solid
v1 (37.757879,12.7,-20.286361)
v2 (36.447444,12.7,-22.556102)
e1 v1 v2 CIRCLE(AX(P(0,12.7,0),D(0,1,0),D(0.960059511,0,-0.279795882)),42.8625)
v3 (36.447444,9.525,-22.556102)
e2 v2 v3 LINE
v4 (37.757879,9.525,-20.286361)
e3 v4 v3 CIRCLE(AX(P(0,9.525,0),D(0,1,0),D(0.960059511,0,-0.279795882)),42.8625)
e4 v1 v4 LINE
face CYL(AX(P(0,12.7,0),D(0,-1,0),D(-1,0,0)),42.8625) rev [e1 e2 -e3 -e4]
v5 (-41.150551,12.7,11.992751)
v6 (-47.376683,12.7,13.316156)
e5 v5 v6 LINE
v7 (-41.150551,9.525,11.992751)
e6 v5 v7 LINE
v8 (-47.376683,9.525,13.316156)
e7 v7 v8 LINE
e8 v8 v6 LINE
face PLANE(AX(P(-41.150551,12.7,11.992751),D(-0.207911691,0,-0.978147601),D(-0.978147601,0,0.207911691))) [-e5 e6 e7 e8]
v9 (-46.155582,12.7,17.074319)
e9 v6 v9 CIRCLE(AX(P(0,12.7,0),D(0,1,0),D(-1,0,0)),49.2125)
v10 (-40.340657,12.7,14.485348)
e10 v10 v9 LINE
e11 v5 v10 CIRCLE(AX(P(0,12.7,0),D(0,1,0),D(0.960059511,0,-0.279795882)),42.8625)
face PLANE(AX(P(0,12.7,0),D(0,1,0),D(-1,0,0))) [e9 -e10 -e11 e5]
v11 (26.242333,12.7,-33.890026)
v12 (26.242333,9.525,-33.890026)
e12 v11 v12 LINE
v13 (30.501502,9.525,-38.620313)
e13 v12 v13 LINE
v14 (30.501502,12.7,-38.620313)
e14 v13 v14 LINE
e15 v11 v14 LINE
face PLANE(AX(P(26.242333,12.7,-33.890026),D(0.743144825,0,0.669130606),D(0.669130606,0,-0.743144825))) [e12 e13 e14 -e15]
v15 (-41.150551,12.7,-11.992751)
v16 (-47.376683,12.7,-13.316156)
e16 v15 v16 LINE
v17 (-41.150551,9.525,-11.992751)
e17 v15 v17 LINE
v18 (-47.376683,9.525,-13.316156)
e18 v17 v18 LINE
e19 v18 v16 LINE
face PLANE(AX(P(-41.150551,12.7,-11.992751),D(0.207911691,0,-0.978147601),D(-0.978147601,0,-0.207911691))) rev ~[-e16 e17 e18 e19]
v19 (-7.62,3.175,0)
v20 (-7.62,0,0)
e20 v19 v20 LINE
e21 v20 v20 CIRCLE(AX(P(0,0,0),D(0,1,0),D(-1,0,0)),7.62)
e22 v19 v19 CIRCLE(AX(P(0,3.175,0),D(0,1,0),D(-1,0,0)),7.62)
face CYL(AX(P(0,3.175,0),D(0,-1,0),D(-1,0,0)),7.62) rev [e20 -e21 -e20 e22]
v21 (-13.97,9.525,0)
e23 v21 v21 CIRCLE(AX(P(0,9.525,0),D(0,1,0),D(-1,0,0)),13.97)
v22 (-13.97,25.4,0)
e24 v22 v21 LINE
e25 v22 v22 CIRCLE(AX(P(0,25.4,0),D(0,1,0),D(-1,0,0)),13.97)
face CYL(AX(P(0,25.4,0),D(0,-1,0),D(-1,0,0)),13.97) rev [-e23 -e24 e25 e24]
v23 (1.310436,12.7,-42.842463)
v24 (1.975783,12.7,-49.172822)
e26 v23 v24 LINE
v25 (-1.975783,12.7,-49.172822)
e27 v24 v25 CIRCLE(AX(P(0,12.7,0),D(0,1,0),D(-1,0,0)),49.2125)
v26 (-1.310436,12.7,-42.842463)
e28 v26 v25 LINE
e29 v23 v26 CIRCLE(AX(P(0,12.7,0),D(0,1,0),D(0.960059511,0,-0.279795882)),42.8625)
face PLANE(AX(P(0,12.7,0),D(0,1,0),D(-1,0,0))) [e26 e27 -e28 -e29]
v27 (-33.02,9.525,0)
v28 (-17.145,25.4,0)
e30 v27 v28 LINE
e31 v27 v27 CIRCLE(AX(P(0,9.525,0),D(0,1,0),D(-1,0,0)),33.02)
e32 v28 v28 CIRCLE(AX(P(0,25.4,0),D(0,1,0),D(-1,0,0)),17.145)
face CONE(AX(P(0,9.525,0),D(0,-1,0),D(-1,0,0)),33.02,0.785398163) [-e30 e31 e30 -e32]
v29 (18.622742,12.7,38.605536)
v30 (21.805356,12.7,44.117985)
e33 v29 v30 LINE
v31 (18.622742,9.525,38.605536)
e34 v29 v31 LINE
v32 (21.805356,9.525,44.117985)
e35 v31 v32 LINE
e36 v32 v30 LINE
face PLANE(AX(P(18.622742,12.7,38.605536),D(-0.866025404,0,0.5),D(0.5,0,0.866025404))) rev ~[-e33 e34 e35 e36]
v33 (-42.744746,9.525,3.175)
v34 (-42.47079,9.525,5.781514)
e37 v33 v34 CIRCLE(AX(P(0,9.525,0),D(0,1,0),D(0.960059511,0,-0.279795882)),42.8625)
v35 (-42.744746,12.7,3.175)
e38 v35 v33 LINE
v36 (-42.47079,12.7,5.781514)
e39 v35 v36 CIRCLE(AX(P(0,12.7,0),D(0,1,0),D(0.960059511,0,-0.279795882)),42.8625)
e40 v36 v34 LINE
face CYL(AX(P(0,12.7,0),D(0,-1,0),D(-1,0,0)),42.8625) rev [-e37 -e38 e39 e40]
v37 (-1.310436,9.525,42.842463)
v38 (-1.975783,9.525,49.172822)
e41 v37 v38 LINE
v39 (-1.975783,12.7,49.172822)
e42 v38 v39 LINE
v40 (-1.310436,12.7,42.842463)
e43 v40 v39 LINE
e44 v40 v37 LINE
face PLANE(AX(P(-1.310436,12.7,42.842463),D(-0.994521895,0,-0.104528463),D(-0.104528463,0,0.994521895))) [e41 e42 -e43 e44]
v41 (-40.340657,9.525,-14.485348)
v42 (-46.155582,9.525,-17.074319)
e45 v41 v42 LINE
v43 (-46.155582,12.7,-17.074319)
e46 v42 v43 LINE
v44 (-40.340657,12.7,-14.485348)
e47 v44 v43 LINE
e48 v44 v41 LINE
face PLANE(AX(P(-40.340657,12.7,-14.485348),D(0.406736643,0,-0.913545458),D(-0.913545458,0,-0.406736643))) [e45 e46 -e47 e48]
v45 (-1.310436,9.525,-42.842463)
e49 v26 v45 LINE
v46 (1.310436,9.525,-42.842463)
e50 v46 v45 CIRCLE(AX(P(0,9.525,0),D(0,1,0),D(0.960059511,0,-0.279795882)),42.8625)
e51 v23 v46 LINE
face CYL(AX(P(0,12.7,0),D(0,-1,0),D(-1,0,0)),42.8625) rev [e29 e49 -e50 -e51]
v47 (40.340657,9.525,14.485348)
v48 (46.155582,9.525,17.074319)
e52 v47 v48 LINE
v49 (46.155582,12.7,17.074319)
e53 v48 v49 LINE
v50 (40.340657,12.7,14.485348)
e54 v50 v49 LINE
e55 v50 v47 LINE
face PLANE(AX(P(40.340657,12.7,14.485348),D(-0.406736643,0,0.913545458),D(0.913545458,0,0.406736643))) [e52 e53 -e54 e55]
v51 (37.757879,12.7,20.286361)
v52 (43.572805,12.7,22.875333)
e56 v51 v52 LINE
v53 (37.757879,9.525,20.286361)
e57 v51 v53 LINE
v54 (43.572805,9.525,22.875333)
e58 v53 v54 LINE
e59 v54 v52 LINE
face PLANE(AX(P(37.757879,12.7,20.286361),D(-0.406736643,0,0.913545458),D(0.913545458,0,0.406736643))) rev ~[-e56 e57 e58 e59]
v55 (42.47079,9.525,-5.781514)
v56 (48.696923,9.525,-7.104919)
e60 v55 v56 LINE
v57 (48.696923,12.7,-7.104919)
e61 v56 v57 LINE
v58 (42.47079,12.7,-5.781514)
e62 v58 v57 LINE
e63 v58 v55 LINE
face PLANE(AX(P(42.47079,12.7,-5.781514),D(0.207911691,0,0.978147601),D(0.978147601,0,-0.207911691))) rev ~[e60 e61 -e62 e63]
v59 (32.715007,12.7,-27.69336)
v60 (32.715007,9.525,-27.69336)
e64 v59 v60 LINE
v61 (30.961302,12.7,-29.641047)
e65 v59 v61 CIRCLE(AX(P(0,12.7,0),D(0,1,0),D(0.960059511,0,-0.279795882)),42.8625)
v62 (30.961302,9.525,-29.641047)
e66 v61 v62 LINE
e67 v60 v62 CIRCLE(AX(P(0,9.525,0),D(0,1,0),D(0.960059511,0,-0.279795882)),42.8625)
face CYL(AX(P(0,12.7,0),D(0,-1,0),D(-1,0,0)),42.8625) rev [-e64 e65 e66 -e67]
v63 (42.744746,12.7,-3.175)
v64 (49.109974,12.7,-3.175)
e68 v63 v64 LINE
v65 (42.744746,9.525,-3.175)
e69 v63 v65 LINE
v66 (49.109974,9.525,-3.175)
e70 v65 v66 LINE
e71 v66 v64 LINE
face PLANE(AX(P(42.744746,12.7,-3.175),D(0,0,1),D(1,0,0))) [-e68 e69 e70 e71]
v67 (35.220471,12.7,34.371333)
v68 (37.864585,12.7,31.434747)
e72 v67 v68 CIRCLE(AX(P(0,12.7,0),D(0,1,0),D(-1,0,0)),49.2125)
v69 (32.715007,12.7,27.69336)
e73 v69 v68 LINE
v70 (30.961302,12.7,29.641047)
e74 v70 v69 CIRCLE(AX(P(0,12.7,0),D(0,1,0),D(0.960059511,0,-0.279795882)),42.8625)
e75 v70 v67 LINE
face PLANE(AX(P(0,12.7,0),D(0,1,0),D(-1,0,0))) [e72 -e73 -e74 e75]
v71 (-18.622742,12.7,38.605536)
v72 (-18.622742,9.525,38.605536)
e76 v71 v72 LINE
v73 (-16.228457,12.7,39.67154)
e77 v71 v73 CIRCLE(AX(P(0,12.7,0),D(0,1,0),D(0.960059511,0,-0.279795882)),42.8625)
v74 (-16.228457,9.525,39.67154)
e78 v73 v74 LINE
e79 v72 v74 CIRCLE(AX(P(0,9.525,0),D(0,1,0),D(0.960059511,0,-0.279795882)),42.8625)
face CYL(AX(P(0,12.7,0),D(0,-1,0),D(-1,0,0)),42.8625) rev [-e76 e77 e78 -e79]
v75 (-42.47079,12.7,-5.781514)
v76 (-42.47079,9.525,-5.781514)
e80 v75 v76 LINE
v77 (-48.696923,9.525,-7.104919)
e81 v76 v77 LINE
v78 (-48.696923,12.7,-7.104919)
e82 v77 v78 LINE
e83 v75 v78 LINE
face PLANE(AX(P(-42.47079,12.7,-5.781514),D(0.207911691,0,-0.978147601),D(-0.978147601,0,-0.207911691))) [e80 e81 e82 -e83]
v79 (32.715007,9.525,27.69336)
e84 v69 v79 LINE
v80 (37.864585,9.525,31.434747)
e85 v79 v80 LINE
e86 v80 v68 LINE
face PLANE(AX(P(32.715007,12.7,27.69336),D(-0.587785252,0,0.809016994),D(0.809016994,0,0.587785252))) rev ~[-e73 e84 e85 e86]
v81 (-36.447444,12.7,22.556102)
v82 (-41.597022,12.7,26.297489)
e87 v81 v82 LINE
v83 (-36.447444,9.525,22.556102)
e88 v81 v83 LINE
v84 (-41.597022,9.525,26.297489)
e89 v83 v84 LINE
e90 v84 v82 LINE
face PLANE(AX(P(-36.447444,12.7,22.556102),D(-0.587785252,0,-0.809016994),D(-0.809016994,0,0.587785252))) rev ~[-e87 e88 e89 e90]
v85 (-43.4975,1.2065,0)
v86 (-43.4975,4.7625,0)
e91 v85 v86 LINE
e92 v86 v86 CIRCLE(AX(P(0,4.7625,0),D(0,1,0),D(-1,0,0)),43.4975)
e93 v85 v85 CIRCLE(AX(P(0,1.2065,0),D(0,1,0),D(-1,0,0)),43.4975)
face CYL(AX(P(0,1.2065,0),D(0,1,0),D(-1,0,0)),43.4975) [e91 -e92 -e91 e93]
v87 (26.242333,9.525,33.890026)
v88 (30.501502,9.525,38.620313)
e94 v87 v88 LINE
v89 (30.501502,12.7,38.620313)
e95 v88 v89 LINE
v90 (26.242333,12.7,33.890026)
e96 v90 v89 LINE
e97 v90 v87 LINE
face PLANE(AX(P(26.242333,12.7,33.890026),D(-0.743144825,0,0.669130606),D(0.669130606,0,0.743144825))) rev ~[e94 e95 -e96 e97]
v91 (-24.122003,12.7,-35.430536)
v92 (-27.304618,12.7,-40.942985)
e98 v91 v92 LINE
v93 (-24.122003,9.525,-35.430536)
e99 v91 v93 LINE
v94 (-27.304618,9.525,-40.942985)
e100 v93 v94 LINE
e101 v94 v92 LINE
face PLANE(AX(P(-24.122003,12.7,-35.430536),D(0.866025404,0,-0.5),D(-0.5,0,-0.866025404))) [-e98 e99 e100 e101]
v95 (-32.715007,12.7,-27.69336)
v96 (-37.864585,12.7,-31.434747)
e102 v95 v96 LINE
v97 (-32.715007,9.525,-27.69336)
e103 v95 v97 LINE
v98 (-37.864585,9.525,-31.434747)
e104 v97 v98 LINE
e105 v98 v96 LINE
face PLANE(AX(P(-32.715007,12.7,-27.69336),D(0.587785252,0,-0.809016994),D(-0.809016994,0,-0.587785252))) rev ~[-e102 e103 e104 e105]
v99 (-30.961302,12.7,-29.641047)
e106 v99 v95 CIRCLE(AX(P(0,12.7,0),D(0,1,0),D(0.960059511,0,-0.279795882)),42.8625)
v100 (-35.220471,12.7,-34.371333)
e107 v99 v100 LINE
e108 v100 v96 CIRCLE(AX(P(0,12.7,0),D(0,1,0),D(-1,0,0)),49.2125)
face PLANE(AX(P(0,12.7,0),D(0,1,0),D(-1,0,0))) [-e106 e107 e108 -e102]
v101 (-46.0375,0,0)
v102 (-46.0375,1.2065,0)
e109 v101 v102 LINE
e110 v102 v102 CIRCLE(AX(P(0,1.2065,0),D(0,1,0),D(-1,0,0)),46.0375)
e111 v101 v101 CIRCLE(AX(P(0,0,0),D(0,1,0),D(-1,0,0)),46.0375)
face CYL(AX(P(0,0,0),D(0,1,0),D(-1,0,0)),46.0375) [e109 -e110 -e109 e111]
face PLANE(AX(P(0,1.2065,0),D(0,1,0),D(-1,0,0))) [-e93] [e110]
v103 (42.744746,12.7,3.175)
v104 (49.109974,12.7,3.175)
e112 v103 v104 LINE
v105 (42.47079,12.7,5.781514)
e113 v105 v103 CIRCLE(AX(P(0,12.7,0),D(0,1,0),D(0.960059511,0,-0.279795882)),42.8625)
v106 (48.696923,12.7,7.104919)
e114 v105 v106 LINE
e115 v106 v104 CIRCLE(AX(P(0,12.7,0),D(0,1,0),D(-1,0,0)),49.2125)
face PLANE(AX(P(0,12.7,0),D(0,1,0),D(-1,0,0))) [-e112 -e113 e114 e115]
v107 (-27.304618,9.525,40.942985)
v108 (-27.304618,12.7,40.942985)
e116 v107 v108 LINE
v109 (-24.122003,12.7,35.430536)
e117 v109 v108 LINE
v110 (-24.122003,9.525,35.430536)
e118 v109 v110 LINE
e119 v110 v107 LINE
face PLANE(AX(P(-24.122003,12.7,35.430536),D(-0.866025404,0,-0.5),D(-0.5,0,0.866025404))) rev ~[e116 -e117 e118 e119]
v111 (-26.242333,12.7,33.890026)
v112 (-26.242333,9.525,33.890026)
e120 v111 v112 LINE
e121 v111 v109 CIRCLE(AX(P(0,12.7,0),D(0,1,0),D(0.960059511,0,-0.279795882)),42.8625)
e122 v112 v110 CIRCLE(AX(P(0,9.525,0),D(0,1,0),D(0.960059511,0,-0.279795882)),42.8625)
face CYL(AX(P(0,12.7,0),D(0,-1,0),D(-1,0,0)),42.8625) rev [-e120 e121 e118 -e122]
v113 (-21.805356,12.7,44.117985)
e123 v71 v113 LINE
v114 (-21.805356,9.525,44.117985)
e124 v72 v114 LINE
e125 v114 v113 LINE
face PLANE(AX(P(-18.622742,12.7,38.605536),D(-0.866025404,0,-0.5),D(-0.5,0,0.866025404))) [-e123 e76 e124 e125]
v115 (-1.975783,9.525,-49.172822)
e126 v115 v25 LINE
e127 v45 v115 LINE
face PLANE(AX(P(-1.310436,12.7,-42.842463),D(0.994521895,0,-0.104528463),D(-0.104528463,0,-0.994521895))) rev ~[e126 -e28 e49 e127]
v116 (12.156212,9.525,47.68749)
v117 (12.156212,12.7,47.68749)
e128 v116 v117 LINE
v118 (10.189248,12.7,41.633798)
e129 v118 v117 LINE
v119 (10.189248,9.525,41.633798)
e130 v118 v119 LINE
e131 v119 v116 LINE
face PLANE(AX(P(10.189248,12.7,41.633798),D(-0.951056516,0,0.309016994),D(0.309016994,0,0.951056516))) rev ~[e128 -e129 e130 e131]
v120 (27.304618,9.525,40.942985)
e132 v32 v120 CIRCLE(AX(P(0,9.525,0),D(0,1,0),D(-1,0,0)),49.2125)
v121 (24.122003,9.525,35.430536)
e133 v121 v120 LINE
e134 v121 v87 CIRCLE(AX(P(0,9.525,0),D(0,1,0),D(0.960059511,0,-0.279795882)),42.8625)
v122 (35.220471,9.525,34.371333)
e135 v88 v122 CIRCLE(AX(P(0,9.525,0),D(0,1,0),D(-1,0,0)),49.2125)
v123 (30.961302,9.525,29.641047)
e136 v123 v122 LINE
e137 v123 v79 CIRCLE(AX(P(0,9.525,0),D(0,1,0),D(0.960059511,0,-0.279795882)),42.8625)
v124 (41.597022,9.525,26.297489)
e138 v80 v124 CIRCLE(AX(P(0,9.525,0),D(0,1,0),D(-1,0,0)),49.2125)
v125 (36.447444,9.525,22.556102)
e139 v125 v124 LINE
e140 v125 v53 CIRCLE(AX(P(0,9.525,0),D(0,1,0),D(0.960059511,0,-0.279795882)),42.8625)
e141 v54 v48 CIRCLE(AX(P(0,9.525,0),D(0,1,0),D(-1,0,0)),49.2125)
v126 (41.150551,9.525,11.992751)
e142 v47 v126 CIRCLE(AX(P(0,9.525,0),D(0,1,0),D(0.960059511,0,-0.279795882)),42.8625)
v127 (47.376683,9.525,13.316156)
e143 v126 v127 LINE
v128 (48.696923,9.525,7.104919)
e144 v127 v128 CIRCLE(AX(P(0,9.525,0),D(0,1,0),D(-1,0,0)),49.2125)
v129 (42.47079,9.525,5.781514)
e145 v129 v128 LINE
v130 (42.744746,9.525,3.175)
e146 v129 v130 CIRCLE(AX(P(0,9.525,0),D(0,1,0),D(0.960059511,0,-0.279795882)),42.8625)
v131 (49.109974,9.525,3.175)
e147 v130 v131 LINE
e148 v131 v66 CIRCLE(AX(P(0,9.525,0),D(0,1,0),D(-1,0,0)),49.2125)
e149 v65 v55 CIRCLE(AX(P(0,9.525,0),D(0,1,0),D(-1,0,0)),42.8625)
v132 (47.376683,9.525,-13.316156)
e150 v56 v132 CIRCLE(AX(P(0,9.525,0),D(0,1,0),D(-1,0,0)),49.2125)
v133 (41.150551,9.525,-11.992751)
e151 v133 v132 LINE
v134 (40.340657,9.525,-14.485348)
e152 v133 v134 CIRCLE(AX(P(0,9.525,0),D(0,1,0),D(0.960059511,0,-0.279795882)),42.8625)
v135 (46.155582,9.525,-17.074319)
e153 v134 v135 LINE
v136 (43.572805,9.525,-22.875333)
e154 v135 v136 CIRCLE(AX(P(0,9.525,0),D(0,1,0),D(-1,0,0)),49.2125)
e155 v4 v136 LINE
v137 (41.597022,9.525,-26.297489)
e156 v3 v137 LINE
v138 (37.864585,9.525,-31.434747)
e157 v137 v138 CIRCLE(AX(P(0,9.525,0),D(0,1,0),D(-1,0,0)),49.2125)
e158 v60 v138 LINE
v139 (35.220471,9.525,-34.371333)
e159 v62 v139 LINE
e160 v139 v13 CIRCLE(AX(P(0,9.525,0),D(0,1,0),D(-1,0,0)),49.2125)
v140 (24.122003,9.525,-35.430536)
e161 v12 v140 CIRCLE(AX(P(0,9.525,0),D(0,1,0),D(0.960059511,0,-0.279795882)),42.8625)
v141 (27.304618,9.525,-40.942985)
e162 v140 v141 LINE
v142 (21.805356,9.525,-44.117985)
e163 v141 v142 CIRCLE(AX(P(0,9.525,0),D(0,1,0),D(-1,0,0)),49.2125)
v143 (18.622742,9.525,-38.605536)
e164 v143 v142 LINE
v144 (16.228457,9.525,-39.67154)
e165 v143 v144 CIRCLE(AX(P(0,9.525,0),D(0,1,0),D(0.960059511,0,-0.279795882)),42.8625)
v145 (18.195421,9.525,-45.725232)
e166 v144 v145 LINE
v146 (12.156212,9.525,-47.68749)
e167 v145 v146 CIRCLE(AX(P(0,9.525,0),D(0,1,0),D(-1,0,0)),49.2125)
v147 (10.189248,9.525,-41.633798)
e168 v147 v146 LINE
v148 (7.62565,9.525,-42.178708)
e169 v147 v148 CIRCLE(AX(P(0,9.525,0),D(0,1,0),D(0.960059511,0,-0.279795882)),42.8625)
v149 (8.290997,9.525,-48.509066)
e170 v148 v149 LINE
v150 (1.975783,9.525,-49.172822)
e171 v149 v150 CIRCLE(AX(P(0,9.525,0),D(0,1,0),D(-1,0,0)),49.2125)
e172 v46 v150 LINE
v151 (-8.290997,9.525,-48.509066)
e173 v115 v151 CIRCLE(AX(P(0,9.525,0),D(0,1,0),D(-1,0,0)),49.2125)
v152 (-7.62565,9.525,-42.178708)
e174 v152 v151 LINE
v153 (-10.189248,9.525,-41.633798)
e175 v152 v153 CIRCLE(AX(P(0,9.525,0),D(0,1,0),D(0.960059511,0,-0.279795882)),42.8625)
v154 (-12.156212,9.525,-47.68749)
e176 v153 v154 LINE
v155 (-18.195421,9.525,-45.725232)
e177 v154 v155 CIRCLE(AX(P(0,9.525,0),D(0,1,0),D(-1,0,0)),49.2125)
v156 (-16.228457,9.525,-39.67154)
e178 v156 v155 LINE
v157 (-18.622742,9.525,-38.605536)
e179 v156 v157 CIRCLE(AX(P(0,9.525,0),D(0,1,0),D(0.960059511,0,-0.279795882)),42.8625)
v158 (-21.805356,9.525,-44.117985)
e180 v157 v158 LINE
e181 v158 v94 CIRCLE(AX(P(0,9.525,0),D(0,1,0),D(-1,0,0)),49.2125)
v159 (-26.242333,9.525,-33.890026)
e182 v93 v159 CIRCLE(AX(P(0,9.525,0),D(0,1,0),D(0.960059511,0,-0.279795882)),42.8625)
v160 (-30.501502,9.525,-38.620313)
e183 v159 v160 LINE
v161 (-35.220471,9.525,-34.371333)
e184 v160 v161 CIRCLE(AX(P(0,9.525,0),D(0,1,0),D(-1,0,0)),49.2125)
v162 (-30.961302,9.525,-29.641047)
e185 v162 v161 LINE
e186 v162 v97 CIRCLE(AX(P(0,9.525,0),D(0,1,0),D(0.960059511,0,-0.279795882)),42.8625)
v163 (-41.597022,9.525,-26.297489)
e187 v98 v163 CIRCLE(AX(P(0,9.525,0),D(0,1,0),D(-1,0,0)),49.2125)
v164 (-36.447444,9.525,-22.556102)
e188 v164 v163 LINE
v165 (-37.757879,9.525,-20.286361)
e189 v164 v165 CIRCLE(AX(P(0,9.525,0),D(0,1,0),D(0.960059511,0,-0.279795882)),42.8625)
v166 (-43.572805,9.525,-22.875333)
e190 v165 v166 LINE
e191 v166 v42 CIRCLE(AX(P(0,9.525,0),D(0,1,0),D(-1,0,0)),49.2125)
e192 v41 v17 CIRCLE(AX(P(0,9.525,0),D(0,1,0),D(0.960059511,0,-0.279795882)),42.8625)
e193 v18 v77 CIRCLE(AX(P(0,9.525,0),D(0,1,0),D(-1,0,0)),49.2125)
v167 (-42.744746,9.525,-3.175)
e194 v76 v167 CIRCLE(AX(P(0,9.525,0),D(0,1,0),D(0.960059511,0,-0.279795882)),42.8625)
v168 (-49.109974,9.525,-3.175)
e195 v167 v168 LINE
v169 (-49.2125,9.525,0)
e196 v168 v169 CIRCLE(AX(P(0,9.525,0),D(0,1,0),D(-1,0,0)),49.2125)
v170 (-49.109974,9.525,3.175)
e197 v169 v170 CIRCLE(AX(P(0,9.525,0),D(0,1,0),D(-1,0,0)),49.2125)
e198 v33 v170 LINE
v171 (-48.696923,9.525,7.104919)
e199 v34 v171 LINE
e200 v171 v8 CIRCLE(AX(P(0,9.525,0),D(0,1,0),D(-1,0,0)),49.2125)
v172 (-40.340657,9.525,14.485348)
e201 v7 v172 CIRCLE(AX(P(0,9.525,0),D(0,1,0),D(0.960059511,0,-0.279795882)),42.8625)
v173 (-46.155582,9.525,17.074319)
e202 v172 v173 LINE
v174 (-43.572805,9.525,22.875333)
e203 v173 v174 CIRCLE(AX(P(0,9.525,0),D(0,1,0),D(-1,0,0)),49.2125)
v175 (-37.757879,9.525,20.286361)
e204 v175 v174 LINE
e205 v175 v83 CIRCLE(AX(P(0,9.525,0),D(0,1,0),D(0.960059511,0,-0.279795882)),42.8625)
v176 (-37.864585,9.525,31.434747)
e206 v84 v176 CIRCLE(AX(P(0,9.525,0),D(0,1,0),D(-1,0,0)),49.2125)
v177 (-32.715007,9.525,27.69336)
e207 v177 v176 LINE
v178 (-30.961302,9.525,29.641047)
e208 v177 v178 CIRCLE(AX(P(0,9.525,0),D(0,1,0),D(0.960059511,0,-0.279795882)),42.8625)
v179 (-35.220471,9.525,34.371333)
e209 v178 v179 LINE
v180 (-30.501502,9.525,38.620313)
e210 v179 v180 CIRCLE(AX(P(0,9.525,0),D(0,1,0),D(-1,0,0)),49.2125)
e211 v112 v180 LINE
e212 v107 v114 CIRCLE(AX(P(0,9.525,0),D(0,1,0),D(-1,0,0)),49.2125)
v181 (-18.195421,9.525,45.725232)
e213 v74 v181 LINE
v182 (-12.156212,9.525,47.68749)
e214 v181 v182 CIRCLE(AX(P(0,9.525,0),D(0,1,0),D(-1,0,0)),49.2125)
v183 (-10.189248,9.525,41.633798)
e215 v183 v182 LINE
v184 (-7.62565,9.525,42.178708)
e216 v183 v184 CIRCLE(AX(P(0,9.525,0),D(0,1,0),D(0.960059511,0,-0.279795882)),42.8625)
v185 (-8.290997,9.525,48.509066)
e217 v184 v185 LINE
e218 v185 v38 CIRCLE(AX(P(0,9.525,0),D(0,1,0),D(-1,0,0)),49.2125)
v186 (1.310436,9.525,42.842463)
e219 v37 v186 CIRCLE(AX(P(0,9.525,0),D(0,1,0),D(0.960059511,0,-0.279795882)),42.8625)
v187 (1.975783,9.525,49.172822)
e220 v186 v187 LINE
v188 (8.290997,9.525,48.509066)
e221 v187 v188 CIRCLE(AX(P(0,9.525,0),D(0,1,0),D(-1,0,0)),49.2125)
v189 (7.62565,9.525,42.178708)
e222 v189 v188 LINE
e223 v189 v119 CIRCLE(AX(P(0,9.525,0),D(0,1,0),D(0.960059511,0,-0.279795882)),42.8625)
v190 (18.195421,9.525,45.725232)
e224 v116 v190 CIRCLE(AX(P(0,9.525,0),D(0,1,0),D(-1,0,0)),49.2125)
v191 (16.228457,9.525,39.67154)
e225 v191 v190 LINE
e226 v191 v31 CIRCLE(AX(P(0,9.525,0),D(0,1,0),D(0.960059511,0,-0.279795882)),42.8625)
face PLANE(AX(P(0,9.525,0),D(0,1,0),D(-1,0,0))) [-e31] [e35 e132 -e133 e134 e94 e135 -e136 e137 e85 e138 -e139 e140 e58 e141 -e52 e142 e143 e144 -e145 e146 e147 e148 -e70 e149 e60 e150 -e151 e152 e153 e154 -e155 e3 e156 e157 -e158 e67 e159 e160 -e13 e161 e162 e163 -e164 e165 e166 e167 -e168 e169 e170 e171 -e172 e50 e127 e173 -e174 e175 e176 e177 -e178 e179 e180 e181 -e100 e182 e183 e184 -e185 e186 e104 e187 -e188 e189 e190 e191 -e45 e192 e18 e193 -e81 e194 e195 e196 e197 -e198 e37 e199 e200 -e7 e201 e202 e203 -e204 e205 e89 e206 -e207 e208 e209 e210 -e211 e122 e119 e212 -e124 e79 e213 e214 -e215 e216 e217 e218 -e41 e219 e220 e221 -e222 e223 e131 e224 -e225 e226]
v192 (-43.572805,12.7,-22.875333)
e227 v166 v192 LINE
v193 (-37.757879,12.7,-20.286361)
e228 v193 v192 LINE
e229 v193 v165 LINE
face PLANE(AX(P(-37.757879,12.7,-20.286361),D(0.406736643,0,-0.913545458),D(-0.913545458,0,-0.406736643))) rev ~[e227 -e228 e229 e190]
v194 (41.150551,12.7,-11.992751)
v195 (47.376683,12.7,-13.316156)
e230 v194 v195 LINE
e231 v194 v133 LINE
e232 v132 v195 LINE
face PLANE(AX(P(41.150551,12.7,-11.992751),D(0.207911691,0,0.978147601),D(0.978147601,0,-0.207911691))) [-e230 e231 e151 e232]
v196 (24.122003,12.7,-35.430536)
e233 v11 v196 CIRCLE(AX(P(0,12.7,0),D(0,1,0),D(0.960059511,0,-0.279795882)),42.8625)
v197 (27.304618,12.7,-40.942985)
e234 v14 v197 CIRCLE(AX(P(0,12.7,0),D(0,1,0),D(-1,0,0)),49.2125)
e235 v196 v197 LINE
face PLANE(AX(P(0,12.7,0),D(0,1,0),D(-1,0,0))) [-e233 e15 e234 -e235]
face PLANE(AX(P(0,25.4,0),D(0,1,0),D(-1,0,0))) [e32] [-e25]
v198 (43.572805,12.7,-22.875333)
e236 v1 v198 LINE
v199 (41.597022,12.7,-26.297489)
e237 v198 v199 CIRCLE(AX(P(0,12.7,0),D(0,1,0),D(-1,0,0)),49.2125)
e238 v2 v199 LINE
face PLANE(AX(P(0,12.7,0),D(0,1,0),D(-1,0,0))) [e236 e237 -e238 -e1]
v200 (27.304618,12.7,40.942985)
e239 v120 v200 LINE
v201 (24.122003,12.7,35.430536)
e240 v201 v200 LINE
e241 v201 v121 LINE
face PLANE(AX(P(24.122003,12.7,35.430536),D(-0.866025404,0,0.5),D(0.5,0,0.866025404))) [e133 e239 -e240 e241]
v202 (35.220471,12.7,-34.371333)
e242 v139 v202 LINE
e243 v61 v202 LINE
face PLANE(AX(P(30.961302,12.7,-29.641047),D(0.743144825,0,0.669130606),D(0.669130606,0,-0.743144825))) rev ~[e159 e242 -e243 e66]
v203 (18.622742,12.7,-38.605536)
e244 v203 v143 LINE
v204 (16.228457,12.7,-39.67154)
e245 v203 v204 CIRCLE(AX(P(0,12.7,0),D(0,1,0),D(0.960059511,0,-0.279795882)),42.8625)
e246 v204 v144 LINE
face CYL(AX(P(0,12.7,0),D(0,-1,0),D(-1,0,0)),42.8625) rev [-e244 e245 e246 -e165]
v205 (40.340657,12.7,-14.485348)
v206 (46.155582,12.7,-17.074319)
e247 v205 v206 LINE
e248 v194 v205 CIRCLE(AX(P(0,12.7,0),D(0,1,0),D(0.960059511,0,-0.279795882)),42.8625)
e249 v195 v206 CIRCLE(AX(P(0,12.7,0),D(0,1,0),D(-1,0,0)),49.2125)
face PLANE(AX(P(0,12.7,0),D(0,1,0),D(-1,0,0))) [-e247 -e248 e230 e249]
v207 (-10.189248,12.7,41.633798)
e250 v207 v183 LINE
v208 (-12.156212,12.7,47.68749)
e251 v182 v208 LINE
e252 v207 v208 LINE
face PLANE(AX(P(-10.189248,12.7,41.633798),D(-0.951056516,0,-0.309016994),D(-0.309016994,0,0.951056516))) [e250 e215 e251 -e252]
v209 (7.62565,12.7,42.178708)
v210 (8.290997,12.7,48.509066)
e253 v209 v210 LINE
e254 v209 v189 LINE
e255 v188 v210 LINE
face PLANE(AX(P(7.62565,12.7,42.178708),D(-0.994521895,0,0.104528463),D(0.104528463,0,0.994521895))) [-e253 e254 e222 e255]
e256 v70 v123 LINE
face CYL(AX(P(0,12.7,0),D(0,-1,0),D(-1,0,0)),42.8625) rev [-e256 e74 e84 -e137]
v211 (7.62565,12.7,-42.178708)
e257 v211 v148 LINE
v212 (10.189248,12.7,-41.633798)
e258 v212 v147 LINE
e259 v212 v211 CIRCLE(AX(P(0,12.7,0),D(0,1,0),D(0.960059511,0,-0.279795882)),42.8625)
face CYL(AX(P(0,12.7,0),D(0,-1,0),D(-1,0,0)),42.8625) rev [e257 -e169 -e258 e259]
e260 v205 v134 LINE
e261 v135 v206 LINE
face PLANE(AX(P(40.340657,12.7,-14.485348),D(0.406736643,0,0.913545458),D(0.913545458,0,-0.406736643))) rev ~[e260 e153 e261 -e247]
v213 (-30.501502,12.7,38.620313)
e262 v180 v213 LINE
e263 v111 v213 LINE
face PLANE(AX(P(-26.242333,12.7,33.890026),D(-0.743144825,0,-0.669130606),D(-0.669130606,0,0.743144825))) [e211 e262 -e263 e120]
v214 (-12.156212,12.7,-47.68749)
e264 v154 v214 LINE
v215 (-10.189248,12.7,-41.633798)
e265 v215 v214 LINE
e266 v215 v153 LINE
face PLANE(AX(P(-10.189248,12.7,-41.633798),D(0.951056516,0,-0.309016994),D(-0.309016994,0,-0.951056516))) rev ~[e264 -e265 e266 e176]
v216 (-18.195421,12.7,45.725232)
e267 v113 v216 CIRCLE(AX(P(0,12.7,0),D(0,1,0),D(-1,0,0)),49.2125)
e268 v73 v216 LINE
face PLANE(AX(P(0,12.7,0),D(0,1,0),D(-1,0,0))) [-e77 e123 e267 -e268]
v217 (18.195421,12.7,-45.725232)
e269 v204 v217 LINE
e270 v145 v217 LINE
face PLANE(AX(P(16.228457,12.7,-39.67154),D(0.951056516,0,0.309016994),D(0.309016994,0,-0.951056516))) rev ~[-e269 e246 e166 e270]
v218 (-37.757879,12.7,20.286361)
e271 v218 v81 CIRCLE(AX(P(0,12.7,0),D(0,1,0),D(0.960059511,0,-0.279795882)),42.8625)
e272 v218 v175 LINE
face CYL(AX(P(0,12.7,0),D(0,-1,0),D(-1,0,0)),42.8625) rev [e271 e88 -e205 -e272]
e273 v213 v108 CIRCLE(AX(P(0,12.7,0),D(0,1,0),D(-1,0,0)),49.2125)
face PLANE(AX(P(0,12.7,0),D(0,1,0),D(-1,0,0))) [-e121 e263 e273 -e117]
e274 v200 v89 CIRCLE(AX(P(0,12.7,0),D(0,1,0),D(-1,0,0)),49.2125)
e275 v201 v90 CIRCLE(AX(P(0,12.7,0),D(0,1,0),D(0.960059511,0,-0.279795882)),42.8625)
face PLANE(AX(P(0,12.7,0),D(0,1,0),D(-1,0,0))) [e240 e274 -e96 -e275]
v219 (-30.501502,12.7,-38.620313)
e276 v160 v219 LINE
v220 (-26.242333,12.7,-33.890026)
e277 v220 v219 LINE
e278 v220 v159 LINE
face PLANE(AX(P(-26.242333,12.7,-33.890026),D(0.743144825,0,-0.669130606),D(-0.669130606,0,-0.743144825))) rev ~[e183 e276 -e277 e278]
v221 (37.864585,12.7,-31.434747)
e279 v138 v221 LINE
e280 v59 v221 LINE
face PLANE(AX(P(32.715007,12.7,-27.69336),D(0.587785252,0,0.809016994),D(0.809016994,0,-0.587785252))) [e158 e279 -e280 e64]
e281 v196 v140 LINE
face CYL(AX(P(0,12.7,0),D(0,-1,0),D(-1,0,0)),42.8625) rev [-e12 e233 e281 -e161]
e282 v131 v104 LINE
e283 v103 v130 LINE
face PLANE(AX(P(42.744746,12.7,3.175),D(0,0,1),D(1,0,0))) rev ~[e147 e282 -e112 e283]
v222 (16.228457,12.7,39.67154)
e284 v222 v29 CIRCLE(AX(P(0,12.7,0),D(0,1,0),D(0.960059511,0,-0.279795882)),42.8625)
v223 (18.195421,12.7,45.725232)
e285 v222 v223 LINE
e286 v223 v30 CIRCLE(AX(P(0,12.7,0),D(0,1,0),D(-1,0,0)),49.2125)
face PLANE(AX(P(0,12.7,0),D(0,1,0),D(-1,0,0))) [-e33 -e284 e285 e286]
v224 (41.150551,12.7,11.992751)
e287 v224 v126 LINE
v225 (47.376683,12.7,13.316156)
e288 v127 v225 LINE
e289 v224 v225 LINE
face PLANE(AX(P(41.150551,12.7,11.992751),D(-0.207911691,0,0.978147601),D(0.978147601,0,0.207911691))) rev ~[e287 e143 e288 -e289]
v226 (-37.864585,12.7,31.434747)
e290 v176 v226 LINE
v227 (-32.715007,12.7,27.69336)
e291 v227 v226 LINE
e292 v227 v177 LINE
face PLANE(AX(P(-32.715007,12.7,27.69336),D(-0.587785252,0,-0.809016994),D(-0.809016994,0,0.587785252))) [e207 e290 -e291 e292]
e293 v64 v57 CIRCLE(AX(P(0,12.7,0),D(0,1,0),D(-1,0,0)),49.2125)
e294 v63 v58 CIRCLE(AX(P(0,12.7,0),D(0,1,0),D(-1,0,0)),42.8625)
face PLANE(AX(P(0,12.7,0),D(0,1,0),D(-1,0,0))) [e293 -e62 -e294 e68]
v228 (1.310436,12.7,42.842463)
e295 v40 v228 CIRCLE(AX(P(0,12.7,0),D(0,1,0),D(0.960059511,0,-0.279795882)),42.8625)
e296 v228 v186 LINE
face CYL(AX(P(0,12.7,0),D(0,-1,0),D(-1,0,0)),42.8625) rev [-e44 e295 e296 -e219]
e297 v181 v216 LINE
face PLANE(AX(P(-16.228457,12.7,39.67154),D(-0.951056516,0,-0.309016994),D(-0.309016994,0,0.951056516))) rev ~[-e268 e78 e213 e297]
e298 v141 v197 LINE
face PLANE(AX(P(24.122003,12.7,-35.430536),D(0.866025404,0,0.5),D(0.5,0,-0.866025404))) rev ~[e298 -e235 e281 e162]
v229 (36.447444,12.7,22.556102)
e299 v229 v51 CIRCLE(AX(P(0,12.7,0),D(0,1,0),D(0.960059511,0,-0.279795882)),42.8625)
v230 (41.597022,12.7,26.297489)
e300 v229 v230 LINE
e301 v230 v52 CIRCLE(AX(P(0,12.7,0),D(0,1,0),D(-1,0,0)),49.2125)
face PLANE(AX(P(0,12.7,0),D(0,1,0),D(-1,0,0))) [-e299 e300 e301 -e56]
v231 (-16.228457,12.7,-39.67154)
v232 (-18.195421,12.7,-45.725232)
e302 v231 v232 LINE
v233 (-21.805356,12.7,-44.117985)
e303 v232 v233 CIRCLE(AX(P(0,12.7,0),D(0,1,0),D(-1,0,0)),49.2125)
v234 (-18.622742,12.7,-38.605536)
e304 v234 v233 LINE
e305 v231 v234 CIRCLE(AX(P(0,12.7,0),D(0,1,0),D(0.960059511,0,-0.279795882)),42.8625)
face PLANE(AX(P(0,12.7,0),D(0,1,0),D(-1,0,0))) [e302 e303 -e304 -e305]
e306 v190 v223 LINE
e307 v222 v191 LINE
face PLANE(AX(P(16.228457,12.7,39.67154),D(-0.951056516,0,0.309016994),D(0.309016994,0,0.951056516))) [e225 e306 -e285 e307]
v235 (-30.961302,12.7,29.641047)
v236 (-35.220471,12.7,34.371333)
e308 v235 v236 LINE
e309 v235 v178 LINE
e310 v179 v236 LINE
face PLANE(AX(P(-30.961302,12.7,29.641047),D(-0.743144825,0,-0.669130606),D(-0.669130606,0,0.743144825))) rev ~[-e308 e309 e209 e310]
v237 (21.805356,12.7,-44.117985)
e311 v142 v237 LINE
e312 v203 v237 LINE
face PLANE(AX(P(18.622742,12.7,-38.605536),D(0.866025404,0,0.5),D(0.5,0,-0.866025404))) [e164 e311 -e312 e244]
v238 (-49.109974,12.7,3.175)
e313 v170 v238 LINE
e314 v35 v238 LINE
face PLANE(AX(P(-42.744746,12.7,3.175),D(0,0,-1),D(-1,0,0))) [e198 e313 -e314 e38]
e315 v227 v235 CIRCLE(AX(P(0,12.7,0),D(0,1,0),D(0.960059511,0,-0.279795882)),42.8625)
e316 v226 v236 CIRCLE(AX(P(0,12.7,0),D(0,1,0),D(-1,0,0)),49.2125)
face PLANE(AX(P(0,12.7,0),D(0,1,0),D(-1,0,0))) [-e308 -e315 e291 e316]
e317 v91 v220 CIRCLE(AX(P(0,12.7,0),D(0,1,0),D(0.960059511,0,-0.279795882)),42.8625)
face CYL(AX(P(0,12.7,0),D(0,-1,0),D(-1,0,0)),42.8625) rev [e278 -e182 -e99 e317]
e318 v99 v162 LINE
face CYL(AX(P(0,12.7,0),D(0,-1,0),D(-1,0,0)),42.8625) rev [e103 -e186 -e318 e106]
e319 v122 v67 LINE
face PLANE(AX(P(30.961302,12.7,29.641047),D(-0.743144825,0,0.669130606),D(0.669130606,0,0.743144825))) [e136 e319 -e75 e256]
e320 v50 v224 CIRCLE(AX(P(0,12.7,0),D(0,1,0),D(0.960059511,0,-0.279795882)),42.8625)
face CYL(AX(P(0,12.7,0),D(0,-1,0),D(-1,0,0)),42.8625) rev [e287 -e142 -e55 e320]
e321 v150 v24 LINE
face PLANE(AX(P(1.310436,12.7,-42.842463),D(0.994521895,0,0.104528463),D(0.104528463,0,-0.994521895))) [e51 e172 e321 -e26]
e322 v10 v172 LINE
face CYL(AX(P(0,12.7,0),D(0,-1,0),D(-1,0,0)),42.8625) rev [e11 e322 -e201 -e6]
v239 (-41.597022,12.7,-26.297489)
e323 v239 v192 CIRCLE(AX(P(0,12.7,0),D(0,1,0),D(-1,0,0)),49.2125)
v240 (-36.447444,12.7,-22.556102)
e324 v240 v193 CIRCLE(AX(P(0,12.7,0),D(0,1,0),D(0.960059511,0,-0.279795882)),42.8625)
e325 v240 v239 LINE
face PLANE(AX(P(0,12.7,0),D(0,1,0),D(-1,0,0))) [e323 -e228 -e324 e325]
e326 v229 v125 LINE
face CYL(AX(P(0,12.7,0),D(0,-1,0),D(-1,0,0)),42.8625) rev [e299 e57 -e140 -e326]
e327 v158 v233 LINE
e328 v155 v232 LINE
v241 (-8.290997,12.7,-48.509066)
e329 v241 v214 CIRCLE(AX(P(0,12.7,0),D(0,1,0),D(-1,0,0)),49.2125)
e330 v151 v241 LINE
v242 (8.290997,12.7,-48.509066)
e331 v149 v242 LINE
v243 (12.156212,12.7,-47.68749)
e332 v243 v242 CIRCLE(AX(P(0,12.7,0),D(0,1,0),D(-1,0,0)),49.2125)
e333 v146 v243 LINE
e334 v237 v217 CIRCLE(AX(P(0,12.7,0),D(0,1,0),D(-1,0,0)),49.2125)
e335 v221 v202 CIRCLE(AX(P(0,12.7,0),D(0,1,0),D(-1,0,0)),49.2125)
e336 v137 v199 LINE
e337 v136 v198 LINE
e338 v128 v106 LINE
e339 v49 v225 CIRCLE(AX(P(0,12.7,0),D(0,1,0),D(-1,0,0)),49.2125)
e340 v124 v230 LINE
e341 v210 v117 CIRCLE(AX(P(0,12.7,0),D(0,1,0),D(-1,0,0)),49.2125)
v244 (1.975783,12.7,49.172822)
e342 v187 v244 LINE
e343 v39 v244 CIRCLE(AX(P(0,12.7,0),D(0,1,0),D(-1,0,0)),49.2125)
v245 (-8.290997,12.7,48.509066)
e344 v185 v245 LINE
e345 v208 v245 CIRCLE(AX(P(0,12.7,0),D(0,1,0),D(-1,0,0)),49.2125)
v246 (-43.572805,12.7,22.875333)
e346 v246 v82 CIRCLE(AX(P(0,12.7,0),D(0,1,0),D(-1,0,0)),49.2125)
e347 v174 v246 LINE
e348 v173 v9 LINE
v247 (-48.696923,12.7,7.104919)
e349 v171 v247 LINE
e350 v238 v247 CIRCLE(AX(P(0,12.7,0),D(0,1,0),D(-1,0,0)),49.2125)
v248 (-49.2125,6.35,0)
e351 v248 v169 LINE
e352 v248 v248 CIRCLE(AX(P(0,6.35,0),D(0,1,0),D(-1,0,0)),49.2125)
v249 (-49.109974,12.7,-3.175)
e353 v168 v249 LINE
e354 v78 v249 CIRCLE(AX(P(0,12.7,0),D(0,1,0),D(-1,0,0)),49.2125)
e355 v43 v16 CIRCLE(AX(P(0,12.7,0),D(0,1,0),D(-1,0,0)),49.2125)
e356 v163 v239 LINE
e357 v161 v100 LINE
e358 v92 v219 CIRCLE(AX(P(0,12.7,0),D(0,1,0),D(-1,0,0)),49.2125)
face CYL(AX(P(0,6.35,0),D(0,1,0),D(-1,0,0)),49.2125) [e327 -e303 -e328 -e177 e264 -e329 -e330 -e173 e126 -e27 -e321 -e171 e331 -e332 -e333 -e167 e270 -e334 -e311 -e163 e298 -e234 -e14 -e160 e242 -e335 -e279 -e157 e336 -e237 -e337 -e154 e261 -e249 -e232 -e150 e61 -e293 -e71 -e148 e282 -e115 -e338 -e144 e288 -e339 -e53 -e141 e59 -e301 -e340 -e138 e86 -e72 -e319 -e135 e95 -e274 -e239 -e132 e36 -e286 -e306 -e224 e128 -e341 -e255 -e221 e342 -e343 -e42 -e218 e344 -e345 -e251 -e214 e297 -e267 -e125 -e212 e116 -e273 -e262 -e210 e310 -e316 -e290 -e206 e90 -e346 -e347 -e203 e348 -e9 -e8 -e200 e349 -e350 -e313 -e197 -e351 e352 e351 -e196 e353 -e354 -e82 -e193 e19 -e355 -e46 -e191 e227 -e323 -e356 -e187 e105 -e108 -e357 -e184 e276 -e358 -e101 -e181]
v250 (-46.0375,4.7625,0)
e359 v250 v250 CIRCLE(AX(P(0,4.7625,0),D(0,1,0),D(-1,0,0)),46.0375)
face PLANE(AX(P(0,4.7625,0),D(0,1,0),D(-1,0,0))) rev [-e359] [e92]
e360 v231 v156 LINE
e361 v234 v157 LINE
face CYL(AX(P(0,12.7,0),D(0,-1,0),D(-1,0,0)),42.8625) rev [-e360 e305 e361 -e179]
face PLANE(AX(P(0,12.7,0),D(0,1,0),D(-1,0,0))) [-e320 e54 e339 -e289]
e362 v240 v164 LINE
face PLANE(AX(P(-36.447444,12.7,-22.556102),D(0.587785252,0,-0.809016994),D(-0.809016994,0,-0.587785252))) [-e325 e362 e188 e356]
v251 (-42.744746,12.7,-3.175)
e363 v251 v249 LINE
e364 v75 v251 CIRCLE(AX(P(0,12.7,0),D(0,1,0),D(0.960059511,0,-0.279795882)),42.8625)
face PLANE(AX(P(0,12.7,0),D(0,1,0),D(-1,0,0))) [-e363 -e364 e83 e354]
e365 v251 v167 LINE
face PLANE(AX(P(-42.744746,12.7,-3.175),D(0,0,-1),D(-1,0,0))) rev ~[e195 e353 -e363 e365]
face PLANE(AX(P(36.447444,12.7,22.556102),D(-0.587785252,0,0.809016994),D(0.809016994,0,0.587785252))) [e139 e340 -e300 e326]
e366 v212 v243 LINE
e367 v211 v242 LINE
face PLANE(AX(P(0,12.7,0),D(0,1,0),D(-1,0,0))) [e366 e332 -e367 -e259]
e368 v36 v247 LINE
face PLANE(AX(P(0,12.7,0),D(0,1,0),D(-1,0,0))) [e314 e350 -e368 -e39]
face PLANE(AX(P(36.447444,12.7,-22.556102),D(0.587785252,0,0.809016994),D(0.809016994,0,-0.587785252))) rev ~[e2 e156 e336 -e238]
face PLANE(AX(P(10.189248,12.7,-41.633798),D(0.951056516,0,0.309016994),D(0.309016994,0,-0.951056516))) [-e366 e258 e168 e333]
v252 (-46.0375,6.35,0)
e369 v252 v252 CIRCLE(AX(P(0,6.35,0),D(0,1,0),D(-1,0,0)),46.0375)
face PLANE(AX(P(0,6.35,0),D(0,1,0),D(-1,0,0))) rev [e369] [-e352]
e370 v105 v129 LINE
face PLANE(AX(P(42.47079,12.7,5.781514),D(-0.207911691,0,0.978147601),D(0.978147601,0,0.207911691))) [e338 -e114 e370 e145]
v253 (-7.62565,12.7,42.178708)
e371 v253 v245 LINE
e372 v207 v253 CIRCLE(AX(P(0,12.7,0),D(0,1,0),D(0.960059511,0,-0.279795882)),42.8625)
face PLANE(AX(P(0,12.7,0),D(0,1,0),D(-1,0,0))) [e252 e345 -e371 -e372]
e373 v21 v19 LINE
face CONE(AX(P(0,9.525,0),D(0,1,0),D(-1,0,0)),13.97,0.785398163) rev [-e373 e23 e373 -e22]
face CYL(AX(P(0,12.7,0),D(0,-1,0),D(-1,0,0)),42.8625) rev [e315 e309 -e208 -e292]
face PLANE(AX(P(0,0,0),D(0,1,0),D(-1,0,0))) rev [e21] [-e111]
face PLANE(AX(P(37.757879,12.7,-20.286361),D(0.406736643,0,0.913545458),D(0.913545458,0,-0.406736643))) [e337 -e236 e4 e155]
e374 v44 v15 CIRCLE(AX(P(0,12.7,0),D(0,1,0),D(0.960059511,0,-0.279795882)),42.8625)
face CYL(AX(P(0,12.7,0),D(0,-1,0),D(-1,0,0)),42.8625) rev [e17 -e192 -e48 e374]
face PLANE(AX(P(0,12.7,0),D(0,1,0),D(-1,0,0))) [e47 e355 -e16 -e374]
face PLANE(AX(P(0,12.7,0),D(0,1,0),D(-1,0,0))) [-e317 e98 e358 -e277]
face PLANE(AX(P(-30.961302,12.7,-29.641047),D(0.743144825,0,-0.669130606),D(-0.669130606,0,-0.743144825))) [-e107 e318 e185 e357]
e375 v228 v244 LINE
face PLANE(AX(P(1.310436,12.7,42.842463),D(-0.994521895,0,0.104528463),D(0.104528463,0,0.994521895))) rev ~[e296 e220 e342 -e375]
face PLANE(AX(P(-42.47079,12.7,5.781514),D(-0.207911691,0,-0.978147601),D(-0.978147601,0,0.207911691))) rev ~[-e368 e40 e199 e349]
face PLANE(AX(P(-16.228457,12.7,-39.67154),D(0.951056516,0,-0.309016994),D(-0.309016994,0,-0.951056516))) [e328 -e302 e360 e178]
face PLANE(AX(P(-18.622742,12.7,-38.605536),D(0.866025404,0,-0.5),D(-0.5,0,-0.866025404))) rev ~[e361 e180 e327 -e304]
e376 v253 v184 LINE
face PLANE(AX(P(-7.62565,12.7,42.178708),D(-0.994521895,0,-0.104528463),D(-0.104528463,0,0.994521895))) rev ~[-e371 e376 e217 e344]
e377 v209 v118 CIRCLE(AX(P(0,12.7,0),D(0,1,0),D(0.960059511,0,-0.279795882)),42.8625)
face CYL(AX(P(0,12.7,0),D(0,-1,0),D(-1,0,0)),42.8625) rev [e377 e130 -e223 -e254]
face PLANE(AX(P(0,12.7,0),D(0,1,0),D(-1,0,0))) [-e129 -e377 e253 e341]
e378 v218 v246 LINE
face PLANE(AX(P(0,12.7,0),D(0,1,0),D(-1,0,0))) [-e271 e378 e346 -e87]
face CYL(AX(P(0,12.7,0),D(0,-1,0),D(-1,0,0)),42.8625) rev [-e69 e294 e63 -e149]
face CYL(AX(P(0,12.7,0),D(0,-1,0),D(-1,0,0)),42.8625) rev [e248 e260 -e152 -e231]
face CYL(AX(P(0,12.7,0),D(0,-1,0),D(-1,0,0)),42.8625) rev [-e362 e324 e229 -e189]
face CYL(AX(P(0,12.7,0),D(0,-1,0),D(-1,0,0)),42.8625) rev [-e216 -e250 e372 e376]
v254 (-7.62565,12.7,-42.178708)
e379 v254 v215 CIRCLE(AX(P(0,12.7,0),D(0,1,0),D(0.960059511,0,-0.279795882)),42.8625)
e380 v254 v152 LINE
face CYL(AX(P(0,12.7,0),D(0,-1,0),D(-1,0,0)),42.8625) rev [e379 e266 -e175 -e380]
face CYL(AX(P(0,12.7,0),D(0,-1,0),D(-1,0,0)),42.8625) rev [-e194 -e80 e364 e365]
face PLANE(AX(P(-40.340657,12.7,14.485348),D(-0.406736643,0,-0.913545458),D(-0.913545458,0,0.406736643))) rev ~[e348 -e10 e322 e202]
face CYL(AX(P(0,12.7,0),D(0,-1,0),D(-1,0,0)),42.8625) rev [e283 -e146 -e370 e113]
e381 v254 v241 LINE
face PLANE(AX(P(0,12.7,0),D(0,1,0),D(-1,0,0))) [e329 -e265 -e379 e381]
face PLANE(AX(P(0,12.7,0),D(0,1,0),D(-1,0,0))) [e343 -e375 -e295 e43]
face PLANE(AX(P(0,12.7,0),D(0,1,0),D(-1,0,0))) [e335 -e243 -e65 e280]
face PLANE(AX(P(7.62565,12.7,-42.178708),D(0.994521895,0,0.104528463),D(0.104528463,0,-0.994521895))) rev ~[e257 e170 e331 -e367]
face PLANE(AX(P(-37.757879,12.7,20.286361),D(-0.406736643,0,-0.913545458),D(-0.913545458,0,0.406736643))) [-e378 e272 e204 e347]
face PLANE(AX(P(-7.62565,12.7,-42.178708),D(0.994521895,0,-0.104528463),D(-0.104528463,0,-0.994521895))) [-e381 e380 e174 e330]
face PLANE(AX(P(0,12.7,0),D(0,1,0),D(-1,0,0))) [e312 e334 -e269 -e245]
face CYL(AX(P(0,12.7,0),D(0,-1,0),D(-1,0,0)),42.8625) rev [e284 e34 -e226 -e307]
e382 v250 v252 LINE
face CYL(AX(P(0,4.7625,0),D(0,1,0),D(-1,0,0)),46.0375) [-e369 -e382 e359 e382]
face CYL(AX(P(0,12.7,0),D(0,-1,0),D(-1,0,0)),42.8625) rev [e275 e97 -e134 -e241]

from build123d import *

# Parameters (mm, degrees)
SKETCH2_W          = 12.7
SKETCH2_H          = 6.35
CUT_EXTRUDE1_DEPTH = 3.175
CIRPATTERN1_COUNT  = 30


with BuildPart() as part:
    # Sketch1 → Revolve1 (revolve)
    with BuildSketch(Plane.XY):
        Polygon((-7.62, 0), (-46.0375, 0), (-46.0375, 1.2065), (-43.4975, 1.2065), (-43.4975, 4.7625), (-46.0375, 4.7625), (-46.0375, 6.35), (-49.2125, 6.35), (-49.2125, 12.7), (-42.8625, 12.7), (-42.8625, 9.525), (-33.02, 9.525), (-17.145, 25.4), (-13.97, 25.4), (-13.97, 9.525), (-7.62, 3.175), align=None)
    revolve(axis=Axis((0, -42.3, 0), (0, 1, 0)))

    # Sketch2 → Cut-Extrude1 (cut)
    with BuildSketch(Plane(origin=(0, 12.7, 0), x_dir=(1, 0, 0), z_dir=(0, 1, 0))):
        with Locations((49.094745657, 0)):
            Rectangle(SKETCH2_W, SKETCH2_H)
    cut_extrude1 = extrude(amount=-CUT_EXTRUDE1_DEPTH, mode=Mode.SUBTRACT)

    # CirPattern1: Cut-Extrude1 ×30 about axis
    cirpattern1_axis = Axis((0, 0, 0), (0, 1, 0))
    for i in range(1, CIRPATTERN1_COUNT):
        add(cut_extrude1.rotate(cirpattern1_axis, i * 360 / CIRPATTERN1_COUNT), mode=Mode.SUBTRACT)


solid = part.part
